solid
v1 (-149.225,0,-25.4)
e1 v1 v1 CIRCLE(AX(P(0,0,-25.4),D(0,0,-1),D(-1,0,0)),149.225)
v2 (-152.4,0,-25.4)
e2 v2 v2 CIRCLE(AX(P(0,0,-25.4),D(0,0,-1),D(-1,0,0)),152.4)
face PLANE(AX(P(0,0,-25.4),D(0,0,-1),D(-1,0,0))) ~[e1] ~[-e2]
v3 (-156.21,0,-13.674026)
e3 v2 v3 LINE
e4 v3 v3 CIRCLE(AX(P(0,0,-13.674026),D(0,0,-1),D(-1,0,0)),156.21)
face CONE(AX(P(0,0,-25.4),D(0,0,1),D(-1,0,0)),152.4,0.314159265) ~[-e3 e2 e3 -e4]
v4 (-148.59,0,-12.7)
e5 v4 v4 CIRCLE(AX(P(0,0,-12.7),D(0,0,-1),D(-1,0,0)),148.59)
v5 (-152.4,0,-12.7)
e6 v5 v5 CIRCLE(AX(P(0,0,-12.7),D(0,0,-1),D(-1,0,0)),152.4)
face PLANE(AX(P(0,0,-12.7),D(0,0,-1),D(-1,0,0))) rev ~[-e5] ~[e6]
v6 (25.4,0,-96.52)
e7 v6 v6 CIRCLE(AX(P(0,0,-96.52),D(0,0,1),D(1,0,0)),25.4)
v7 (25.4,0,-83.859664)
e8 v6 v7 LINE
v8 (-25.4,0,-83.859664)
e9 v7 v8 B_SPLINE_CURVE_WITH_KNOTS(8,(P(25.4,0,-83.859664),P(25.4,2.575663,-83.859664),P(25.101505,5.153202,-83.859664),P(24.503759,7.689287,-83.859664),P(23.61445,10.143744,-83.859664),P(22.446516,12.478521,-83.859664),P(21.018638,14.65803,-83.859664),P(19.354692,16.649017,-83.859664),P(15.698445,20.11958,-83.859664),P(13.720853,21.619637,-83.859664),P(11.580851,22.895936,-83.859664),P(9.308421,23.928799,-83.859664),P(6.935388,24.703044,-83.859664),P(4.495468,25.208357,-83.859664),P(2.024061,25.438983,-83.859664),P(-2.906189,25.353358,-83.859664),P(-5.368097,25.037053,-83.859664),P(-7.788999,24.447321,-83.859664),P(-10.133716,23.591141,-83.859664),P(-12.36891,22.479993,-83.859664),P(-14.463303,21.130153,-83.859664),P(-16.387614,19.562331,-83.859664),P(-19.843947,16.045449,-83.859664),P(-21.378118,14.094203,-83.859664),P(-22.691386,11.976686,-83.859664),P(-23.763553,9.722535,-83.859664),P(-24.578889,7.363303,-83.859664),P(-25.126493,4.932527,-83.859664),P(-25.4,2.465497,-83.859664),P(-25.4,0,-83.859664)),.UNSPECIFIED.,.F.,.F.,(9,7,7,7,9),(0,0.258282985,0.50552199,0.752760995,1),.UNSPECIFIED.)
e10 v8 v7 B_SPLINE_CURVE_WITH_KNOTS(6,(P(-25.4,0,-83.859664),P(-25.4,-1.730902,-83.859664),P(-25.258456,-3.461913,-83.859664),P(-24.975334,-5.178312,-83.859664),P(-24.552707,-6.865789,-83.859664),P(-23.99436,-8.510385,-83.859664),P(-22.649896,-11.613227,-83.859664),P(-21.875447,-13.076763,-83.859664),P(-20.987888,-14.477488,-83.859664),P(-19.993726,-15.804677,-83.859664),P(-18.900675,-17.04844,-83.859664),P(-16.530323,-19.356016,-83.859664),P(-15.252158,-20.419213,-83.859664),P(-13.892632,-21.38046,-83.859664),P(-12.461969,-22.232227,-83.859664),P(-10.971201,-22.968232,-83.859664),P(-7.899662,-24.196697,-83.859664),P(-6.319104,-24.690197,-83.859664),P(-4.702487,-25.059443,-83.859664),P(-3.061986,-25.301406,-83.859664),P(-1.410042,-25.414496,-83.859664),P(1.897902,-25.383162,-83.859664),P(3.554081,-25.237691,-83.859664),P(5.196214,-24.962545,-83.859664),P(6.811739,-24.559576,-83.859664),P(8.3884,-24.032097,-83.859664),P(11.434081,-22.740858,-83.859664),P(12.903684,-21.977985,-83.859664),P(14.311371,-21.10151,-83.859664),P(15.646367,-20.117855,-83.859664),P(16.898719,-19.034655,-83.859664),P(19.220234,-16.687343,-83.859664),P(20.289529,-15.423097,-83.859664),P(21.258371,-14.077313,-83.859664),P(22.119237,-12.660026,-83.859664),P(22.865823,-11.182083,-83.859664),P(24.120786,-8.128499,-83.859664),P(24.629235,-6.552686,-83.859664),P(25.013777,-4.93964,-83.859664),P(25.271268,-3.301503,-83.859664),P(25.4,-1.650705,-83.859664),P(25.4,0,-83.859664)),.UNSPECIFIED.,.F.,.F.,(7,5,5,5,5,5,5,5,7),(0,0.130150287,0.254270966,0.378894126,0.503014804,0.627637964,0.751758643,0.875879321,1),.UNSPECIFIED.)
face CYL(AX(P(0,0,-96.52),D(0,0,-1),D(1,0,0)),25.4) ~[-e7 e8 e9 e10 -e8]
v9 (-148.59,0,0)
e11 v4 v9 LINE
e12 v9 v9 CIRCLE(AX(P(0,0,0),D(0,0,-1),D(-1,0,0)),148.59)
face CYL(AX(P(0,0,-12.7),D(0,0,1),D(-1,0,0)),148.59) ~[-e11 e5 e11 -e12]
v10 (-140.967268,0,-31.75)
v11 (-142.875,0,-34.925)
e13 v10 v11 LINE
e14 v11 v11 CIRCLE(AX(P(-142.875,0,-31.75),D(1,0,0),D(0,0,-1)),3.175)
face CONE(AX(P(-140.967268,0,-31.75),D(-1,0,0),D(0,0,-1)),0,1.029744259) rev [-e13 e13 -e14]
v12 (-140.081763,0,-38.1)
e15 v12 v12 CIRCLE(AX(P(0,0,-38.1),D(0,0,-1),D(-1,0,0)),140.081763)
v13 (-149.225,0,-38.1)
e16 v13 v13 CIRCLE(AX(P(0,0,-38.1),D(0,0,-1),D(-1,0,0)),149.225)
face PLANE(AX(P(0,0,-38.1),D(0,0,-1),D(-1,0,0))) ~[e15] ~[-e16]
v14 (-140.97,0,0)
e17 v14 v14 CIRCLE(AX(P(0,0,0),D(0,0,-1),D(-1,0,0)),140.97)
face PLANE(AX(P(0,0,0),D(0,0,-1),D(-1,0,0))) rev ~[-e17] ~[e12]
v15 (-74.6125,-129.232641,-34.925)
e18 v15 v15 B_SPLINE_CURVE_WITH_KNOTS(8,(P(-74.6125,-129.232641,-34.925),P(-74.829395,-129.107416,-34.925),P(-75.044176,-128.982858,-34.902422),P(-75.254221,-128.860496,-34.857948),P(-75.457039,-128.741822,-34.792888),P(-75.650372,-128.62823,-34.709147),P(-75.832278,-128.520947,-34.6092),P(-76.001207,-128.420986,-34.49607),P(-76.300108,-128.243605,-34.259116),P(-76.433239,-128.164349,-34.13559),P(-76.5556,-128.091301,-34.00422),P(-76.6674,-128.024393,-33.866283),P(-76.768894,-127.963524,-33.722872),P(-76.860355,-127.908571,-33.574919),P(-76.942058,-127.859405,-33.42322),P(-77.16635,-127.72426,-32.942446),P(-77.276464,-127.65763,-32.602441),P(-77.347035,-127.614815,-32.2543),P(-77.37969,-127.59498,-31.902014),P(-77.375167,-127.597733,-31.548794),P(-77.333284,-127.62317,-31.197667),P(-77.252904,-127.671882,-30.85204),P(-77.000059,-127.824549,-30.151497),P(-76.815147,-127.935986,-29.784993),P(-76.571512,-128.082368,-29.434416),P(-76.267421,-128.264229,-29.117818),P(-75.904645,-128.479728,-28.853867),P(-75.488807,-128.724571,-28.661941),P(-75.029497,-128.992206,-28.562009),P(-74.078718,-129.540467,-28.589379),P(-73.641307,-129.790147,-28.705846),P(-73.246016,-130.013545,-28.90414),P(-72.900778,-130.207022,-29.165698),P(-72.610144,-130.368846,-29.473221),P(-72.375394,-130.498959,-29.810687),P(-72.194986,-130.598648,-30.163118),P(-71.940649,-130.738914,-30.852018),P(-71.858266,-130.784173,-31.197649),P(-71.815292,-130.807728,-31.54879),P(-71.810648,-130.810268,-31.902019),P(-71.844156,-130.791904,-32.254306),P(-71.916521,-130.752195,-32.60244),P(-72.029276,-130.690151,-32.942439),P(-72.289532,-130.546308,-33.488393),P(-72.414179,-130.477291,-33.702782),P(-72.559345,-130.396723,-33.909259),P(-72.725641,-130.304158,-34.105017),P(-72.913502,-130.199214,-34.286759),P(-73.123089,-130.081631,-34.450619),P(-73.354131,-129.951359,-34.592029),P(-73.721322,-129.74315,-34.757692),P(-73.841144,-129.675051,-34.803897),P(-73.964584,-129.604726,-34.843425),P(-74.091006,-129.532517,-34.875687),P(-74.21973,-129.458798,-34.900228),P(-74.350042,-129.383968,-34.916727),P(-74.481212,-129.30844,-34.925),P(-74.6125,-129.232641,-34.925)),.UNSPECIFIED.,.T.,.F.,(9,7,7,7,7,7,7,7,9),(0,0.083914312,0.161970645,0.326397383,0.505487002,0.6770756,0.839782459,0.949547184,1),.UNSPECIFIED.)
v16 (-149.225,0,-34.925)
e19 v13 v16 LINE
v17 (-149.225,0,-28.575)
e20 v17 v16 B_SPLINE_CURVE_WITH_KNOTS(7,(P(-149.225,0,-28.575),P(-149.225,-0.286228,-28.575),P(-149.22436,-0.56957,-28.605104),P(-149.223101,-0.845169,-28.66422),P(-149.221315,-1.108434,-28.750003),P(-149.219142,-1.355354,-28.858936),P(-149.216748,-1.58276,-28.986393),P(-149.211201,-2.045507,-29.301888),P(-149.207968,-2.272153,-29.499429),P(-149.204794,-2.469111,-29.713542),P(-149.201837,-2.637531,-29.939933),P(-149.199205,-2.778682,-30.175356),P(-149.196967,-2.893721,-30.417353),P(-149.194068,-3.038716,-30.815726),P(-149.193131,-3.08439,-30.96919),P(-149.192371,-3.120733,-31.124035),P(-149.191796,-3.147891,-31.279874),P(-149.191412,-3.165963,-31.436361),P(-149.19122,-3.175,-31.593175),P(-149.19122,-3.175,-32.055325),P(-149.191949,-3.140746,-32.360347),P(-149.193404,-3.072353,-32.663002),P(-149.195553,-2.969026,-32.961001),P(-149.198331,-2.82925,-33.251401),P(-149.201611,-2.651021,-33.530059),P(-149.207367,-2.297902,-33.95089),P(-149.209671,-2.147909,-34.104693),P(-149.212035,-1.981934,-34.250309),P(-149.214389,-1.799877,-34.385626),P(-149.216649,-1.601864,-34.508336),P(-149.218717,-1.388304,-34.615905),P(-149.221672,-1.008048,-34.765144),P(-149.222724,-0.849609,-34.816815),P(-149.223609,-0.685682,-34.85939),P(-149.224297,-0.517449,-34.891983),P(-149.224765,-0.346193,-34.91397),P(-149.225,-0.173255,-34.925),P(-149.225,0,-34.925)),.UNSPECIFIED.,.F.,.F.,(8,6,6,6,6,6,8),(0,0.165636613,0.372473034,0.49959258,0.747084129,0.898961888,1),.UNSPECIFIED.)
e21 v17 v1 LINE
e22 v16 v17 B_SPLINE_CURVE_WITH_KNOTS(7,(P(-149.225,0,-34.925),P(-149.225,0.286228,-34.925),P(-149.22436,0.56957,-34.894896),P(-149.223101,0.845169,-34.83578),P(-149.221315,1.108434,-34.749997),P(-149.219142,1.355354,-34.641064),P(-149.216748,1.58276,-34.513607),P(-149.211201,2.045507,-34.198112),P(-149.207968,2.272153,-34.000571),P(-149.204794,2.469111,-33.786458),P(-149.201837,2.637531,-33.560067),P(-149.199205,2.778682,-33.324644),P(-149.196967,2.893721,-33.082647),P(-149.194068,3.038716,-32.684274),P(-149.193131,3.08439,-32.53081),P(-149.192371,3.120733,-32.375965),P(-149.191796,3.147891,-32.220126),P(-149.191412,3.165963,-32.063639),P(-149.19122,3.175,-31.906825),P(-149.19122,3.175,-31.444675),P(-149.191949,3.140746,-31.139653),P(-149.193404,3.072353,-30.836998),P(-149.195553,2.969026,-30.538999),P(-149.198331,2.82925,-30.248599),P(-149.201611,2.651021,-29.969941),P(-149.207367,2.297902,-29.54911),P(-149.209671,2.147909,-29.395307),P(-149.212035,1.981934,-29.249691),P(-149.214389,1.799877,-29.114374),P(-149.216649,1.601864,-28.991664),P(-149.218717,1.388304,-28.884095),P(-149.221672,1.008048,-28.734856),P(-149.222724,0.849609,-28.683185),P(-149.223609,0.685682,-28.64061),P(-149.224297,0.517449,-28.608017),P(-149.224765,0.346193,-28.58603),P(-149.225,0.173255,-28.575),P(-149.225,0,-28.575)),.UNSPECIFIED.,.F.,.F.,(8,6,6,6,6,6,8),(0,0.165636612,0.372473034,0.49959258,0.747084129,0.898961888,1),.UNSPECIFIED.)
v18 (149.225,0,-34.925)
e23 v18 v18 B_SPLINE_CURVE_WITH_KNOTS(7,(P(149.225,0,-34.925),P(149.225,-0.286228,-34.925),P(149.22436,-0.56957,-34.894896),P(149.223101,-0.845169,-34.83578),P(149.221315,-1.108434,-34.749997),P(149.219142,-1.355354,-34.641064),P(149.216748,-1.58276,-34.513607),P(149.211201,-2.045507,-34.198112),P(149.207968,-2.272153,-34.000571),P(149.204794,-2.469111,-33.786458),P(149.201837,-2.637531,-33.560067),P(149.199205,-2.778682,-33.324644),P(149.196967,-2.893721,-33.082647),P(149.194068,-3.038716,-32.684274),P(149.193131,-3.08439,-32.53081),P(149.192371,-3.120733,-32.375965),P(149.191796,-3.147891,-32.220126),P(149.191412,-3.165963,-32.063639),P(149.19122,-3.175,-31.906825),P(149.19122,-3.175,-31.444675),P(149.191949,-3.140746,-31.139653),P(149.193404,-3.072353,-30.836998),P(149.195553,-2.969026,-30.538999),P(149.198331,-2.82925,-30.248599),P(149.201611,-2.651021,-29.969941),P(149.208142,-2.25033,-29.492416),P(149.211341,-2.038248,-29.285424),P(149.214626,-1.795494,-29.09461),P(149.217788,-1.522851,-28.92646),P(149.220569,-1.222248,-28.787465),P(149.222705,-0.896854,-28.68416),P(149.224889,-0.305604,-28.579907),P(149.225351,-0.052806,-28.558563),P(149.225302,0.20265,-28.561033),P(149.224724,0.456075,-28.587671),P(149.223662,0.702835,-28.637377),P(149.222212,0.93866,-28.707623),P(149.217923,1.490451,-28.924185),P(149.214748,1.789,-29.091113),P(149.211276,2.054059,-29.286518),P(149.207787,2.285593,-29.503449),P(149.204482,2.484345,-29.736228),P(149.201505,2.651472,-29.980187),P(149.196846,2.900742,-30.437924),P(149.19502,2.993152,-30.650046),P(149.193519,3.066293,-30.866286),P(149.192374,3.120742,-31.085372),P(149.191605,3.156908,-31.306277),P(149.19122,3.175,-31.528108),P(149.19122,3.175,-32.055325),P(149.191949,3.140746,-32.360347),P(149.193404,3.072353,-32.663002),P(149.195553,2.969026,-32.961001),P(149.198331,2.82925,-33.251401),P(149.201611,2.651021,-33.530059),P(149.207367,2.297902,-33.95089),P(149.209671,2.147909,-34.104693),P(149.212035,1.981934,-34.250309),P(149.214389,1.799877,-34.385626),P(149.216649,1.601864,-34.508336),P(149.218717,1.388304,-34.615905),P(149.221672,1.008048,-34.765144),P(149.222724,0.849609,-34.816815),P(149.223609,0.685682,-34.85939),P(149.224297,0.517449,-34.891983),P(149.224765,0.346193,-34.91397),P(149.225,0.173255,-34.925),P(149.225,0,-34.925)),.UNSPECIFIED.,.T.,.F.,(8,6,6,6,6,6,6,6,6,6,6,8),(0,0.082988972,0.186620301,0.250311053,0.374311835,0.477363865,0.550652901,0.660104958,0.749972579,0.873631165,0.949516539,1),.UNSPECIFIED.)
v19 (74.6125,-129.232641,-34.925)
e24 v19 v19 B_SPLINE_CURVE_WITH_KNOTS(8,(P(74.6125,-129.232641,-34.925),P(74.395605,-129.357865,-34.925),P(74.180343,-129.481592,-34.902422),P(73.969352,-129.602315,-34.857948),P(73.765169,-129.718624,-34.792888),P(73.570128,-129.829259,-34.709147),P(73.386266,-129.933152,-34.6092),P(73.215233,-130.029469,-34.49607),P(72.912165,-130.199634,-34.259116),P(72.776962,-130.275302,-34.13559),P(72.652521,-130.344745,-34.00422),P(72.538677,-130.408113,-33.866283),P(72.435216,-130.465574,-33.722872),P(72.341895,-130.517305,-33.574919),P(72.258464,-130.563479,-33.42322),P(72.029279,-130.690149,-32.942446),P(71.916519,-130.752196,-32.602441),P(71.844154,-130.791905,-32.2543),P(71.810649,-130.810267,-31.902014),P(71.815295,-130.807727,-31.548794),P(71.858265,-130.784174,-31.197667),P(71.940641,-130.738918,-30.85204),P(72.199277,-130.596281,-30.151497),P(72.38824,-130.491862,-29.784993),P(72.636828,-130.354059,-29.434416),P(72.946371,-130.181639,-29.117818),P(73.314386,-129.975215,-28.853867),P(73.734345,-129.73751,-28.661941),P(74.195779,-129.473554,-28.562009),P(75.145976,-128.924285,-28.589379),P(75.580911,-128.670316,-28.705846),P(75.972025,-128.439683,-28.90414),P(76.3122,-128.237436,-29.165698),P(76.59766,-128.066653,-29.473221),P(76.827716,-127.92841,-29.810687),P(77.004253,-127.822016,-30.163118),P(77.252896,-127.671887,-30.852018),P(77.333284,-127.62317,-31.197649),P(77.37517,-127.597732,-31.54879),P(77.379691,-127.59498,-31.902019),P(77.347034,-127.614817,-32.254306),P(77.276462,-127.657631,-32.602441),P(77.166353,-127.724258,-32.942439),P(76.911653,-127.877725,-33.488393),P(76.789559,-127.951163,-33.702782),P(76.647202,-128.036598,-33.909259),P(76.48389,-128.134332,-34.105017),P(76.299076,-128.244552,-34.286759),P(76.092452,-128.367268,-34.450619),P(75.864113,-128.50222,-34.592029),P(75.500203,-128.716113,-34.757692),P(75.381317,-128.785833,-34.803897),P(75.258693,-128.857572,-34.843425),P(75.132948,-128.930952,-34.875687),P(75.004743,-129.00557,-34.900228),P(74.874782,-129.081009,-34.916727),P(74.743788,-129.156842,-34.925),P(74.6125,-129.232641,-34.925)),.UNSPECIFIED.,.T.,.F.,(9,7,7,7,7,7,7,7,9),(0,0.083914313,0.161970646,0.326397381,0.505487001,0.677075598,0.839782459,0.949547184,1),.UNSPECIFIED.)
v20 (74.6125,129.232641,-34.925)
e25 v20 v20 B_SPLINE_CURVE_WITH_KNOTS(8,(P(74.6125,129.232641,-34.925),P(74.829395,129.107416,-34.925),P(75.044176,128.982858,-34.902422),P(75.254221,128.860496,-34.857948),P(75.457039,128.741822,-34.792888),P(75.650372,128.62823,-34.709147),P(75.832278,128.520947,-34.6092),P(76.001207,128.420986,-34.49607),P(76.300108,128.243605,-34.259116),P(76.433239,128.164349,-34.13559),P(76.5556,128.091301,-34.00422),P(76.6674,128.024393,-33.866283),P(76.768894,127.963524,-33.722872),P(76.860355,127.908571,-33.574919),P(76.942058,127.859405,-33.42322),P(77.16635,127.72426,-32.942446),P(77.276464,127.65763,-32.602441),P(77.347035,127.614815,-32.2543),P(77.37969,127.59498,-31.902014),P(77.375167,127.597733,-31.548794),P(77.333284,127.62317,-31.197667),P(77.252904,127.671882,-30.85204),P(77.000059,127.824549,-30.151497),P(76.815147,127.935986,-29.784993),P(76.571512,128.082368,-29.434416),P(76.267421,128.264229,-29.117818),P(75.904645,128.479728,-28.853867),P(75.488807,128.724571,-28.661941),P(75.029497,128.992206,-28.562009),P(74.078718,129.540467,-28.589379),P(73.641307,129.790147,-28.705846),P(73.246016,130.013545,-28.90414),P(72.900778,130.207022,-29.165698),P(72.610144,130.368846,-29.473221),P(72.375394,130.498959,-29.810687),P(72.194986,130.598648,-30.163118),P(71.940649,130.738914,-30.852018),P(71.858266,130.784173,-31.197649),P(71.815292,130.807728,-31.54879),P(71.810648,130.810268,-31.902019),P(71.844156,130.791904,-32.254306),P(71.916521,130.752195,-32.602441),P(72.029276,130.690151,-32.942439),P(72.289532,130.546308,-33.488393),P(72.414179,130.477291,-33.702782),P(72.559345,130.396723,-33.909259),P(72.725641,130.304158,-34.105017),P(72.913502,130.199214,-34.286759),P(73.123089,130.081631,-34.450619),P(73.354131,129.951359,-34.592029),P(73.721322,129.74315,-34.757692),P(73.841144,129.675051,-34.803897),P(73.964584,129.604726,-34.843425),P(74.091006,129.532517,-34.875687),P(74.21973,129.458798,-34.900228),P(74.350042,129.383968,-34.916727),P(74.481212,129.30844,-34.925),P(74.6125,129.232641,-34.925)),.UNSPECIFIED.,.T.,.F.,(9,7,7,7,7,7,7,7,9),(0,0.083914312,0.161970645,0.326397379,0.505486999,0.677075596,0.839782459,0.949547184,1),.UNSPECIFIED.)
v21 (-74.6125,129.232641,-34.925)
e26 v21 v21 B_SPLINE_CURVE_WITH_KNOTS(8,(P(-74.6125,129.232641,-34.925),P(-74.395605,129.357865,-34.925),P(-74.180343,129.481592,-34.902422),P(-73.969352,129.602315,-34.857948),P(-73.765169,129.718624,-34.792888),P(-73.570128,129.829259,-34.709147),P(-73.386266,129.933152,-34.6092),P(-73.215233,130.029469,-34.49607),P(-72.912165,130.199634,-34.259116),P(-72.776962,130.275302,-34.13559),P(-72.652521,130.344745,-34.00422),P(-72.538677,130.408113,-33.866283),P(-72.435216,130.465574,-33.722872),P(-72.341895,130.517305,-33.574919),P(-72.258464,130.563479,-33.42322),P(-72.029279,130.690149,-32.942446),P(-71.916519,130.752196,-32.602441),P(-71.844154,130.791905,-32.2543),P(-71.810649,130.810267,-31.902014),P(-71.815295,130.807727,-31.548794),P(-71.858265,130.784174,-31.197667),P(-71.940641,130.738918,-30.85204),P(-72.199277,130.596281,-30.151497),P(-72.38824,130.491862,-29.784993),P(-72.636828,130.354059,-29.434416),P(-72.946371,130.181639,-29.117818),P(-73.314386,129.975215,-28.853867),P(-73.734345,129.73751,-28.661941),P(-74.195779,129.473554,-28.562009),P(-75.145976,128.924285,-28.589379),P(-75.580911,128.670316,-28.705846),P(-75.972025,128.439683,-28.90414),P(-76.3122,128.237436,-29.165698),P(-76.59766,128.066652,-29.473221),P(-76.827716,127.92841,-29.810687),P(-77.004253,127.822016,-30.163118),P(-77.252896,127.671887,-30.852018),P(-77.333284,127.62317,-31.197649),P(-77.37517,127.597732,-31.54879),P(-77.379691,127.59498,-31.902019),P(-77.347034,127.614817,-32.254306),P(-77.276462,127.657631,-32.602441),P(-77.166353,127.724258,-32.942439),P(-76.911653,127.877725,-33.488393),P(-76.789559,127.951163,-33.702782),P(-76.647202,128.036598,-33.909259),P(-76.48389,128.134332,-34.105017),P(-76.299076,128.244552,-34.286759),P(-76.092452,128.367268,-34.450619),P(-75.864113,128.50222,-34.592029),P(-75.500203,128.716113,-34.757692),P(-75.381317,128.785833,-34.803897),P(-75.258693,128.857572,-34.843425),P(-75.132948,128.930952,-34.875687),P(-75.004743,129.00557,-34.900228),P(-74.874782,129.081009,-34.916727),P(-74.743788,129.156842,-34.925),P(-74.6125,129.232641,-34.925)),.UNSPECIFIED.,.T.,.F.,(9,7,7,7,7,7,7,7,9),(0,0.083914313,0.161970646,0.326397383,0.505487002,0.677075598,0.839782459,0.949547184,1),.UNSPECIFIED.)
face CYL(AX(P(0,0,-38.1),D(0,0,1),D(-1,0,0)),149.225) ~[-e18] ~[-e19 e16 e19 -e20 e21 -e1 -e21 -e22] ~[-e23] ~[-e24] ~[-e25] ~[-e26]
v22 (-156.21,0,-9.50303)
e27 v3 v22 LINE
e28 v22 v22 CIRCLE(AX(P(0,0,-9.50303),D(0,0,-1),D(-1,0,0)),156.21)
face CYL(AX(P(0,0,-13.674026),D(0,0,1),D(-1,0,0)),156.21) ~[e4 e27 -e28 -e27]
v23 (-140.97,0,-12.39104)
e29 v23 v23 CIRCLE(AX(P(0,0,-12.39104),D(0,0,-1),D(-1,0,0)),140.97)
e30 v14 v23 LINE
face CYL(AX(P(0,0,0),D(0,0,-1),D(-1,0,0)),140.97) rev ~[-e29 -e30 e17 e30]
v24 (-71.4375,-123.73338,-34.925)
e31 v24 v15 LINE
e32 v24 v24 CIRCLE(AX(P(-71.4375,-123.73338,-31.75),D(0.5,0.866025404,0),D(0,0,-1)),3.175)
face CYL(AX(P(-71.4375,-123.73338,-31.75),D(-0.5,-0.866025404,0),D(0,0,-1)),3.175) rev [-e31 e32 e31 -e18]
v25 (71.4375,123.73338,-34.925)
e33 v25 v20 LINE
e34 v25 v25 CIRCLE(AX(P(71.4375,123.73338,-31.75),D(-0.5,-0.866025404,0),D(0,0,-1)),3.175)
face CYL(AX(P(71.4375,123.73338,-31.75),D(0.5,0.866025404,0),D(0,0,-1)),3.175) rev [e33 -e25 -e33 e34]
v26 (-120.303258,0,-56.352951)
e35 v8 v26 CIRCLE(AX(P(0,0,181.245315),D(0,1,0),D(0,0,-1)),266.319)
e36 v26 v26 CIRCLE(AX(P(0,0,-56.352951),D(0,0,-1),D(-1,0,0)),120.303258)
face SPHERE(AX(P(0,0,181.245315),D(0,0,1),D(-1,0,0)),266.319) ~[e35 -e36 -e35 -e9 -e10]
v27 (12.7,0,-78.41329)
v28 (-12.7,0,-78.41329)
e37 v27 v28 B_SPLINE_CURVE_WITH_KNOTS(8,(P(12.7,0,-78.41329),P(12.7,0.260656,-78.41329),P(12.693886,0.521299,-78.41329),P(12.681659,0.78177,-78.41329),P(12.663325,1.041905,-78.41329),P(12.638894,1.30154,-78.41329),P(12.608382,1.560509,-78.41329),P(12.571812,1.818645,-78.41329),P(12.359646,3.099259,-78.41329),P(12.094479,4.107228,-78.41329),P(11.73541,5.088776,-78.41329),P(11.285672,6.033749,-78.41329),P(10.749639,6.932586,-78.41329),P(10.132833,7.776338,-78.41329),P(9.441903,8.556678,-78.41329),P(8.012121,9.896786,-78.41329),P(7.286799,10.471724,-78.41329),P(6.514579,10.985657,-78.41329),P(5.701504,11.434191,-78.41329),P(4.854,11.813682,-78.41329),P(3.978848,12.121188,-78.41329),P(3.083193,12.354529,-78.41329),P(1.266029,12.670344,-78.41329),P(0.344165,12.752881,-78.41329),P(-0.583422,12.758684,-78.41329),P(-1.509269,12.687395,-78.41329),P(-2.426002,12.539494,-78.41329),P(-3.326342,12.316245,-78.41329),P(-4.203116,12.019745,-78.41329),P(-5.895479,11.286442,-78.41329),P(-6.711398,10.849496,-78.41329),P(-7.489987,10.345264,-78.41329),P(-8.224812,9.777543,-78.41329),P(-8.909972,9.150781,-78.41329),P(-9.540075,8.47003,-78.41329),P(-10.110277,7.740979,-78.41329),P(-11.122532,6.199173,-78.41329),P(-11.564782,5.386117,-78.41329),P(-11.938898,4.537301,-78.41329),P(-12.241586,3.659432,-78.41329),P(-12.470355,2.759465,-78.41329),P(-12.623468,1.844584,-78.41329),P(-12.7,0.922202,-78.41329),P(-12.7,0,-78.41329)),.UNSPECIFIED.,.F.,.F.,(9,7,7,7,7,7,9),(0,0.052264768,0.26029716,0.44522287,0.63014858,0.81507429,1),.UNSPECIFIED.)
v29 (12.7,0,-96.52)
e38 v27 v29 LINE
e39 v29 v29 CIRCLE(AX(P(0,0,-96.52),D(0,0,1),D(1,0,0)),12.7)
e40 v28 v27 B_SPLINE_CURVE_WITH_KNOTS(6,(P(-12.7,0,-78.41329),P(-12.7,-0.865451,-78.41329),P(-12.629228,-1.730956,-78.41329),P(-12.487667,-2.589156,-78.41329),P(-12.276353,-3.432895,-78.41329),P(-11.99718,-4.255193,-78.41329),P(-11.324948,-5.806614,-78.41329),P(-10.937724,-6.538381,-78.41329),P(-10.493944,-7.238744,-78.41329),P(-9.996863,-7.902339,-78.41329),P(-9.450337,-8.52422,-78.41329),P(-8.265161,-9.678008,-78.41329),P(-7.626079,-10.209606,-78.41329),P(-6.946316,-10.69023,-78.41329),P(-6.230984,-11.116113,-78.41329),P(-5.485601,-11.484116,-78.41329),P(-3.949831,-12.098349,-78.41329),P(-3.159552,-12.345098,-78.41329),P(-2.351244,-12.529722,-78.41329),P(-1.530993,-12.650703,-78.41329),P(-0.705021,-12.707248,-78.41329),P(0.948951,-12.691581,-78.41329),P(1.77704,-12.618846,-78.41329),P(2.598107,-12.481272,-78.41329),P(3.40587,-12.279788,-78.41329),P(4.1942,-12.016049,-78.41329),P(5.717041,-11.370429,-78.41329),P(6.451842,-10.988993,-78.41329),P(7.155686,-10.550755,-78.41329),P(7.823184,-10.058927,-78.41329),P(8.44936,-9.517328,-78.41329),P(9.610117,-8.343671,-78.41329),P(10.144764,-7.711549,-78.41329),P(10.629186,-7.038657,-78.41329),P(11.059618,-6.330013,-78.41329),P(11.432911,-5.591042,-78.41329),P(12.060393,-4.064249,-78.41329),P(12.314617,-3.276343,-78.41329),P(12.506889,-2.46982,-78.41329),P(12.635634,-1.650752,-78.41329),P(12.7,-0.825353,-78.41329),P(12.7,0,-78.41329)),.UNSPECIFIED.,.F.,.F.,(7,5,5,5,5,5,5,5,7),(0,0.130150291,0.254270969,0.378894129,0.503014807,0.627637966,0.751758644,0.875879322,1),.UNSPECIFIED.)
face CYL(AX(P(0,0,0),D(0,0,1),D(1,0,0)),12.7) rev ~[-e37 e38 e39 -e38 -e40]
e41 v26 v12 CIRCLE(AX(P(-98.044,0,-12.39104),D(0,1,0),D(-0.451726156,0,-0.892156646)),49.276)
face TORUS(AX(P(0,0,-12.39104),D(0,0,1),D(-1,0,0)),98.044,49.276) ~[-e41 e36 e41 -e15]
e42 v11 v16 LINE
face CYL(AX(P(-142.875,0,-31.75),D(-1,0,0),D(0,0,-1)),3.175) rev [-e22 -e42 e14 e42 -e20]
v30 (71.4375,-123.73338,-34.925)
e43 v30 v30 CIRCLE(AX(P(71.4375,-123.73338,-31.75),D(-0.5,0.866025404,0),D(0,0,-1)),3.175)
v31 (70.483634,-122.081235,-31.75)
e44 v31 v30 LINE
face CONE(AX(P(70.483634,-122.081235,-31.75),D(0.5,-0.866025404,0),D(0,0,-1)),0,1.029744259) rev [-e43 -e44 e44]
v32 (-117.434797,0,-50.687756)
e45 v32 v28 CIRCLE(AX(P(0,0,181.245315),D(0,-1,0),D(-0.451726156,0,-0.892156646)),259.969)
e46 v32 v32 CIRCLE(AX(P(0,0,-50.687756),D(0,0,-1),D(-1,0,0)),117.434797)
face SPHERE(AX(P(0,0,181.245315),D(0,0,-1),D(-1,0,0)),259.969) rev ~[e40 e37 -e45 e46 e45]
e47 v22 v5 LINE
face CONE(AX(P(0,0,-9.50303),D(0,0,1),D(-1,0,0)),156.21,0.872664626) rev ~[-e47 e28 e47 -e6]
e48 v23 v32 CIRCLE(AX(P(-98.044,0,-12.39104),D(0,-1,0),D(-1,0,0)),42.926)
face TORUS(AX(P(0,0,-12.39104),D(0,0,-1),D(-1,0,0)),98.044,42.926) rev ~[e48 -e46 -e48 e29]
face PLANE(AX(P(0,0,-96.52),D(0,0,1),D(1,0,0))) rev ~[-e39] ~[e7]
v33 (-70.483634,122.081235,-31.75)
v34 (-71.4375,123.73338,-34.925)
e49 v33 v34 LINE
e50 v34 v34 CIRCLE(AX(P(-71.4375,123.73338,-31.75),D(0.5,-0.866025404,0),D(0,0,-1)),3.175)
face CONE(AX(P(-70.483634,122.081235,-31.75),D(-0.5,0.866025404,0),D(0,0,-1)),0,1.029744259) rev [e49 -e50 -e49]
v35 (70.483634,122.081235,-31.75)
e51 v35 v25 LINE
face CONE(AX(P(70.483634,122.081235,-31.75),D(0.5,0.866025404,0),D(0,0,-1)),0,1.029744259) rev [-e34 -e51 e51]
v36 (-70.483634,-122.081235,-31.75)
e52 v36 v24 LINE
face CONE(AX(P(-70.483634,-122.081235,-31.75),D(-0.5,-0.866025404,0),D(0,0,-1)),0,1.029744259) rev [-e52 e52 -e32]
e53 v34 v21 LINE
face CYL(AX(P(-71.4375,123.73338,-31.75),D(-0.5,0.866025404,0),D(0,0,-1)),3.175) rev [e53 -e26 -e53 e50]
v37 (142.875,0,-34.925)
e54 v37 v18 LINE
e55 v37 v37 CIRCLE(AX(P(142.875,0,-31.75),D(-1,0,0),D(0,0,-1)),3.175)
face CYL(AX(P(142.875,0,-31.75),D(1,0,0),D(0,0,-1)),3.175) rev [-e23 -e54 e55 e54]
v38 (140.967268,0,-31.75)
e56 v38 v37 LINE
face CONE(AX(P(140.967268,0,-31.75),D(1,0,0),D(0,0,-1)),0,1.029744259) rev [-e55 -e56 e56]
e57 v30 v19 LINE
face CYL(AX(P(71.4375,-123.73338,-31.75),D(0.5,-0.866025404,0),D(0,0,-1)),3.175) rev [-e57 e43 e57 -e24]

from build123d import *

# Parameters (mm, degrees)
BOSS_EXTRUDE2_REACH = 98.52
SKETCH10_R          = 25.4
SKETCH11_R          = 12.7
CUT_EXTRUDE1_DEPTH  = 190.754
CIRPATTERN1_COUNT   = 6


with BuildPart() as part:
    # Sketch1 → Revolve1 (revolve)
    with BuildSketch(Plane(origin=(0, 0, 0), x_dir=(1, 0, 0), z_dir=(0, 1, 0))):
        with BuildLine():
            Line((-148.59, 0), (-140.97, 0))
            Line((-140.97, 0), (-140.97, 12.391039743))
            ThreePointArc((-140.97, 12.391039743), (-134.615921102, 34.866271953), (-117.434796957, 50.687755913))
            ThreePointArc((-117.434796957, 50.687755913), (-60.367509579, 71.617582047), (0, 78.72368491))
            Line((0, 78.72368491), (0, 85.07368491))
            ThreePointArc((0, 85.07368491), (-61.842045719, 77.794008454), (-120.303258046, 56.352950612))
            ThreePointArc((-120.303258046, 56.352950612), (-131.462846302, 48.602983737), (-140.081763243, 38.1))
            Line((-140.081763243, 38.1), (-149.225, 38.1))
            Line((-149.225, 38.1), (-149.225, 25.4))
            Line((-149.225, 25.4), (-152.4, 25.4))
            Line((-152.4, 25.4), (-156.21, 13.674025723))
            Line((-156.21, 13.674025723), (-156.21, 9.503030405))
            Line((-156.21, 9.503030405), (-152.4, 12.7))
            Line((-152.4, 12.7), (-148.59, 12.7))
            Line((-148.59, 12.7), (-148.59, 0))
        make_face()
    revolve(axis=Axis((0, 0, -78.72368491), (0, 0, -1)))

    # Sketch10 → Boss-Extrude2 (add, up to next)
    with BuildSketch(Plane.XY.offset(-96.52), mode=Mode.PRIVATE) as boss_extrude2_sk1:
        Circle(SKETCH10_R)
    boss_extrude2_tool1 = extrude(boss_extrude2_sk1.sketch, amount=BOSS_EXTRUDE2_REACH, mode=Mode.PRIVATE) - part.part
    add(boss_extrude2_tool1.solids().sort_by_distance((0, 0, -96.52))[0])

    # Sketch11 → Cut-Extrude1 (cut)
    with BuildSketch(Plane.XY):
        Circle(SKETCH11_R)
    extrude(amount=-CUT_EXTRUDE1_DEPTH, mode=Mode.SUBTRACT)

    # Sketch15 → 1/4 (0.25) Diameter Hole1 (revolve, cut)
    with BuildSketch(Plane(origin=(149.225, 0, -31.75), x_dir=(0, 0, -1), z_dir=(0, 1, 0))):
        Polygon((0, 0), (0, 8.257732465), (3.175, 6.35), (3.175, 0), align=None)
    f_1_4_0_25_diameter_hole1 = revolve(axis=Axis((155.575, 0, -31.75), (-1, 0, 0)), mode=Mode.SUBTRACT)

    # CirPattern1: 1/4 (0.25) Diameter Hole1 ×6 about axis
    cirpattern1_axis = Axis((0, 0, 5.473137056), (0, 0, -1))
    for i in range(1, CIRPATTERN1_COUNT):
        add(f_1_4_0_25_diameter_hole1.rotate(cirpattern1_axis, i * 360 / CIRPATTERN1_COUNT), mode=Mode.SUBTRACT)


solid = part.part
